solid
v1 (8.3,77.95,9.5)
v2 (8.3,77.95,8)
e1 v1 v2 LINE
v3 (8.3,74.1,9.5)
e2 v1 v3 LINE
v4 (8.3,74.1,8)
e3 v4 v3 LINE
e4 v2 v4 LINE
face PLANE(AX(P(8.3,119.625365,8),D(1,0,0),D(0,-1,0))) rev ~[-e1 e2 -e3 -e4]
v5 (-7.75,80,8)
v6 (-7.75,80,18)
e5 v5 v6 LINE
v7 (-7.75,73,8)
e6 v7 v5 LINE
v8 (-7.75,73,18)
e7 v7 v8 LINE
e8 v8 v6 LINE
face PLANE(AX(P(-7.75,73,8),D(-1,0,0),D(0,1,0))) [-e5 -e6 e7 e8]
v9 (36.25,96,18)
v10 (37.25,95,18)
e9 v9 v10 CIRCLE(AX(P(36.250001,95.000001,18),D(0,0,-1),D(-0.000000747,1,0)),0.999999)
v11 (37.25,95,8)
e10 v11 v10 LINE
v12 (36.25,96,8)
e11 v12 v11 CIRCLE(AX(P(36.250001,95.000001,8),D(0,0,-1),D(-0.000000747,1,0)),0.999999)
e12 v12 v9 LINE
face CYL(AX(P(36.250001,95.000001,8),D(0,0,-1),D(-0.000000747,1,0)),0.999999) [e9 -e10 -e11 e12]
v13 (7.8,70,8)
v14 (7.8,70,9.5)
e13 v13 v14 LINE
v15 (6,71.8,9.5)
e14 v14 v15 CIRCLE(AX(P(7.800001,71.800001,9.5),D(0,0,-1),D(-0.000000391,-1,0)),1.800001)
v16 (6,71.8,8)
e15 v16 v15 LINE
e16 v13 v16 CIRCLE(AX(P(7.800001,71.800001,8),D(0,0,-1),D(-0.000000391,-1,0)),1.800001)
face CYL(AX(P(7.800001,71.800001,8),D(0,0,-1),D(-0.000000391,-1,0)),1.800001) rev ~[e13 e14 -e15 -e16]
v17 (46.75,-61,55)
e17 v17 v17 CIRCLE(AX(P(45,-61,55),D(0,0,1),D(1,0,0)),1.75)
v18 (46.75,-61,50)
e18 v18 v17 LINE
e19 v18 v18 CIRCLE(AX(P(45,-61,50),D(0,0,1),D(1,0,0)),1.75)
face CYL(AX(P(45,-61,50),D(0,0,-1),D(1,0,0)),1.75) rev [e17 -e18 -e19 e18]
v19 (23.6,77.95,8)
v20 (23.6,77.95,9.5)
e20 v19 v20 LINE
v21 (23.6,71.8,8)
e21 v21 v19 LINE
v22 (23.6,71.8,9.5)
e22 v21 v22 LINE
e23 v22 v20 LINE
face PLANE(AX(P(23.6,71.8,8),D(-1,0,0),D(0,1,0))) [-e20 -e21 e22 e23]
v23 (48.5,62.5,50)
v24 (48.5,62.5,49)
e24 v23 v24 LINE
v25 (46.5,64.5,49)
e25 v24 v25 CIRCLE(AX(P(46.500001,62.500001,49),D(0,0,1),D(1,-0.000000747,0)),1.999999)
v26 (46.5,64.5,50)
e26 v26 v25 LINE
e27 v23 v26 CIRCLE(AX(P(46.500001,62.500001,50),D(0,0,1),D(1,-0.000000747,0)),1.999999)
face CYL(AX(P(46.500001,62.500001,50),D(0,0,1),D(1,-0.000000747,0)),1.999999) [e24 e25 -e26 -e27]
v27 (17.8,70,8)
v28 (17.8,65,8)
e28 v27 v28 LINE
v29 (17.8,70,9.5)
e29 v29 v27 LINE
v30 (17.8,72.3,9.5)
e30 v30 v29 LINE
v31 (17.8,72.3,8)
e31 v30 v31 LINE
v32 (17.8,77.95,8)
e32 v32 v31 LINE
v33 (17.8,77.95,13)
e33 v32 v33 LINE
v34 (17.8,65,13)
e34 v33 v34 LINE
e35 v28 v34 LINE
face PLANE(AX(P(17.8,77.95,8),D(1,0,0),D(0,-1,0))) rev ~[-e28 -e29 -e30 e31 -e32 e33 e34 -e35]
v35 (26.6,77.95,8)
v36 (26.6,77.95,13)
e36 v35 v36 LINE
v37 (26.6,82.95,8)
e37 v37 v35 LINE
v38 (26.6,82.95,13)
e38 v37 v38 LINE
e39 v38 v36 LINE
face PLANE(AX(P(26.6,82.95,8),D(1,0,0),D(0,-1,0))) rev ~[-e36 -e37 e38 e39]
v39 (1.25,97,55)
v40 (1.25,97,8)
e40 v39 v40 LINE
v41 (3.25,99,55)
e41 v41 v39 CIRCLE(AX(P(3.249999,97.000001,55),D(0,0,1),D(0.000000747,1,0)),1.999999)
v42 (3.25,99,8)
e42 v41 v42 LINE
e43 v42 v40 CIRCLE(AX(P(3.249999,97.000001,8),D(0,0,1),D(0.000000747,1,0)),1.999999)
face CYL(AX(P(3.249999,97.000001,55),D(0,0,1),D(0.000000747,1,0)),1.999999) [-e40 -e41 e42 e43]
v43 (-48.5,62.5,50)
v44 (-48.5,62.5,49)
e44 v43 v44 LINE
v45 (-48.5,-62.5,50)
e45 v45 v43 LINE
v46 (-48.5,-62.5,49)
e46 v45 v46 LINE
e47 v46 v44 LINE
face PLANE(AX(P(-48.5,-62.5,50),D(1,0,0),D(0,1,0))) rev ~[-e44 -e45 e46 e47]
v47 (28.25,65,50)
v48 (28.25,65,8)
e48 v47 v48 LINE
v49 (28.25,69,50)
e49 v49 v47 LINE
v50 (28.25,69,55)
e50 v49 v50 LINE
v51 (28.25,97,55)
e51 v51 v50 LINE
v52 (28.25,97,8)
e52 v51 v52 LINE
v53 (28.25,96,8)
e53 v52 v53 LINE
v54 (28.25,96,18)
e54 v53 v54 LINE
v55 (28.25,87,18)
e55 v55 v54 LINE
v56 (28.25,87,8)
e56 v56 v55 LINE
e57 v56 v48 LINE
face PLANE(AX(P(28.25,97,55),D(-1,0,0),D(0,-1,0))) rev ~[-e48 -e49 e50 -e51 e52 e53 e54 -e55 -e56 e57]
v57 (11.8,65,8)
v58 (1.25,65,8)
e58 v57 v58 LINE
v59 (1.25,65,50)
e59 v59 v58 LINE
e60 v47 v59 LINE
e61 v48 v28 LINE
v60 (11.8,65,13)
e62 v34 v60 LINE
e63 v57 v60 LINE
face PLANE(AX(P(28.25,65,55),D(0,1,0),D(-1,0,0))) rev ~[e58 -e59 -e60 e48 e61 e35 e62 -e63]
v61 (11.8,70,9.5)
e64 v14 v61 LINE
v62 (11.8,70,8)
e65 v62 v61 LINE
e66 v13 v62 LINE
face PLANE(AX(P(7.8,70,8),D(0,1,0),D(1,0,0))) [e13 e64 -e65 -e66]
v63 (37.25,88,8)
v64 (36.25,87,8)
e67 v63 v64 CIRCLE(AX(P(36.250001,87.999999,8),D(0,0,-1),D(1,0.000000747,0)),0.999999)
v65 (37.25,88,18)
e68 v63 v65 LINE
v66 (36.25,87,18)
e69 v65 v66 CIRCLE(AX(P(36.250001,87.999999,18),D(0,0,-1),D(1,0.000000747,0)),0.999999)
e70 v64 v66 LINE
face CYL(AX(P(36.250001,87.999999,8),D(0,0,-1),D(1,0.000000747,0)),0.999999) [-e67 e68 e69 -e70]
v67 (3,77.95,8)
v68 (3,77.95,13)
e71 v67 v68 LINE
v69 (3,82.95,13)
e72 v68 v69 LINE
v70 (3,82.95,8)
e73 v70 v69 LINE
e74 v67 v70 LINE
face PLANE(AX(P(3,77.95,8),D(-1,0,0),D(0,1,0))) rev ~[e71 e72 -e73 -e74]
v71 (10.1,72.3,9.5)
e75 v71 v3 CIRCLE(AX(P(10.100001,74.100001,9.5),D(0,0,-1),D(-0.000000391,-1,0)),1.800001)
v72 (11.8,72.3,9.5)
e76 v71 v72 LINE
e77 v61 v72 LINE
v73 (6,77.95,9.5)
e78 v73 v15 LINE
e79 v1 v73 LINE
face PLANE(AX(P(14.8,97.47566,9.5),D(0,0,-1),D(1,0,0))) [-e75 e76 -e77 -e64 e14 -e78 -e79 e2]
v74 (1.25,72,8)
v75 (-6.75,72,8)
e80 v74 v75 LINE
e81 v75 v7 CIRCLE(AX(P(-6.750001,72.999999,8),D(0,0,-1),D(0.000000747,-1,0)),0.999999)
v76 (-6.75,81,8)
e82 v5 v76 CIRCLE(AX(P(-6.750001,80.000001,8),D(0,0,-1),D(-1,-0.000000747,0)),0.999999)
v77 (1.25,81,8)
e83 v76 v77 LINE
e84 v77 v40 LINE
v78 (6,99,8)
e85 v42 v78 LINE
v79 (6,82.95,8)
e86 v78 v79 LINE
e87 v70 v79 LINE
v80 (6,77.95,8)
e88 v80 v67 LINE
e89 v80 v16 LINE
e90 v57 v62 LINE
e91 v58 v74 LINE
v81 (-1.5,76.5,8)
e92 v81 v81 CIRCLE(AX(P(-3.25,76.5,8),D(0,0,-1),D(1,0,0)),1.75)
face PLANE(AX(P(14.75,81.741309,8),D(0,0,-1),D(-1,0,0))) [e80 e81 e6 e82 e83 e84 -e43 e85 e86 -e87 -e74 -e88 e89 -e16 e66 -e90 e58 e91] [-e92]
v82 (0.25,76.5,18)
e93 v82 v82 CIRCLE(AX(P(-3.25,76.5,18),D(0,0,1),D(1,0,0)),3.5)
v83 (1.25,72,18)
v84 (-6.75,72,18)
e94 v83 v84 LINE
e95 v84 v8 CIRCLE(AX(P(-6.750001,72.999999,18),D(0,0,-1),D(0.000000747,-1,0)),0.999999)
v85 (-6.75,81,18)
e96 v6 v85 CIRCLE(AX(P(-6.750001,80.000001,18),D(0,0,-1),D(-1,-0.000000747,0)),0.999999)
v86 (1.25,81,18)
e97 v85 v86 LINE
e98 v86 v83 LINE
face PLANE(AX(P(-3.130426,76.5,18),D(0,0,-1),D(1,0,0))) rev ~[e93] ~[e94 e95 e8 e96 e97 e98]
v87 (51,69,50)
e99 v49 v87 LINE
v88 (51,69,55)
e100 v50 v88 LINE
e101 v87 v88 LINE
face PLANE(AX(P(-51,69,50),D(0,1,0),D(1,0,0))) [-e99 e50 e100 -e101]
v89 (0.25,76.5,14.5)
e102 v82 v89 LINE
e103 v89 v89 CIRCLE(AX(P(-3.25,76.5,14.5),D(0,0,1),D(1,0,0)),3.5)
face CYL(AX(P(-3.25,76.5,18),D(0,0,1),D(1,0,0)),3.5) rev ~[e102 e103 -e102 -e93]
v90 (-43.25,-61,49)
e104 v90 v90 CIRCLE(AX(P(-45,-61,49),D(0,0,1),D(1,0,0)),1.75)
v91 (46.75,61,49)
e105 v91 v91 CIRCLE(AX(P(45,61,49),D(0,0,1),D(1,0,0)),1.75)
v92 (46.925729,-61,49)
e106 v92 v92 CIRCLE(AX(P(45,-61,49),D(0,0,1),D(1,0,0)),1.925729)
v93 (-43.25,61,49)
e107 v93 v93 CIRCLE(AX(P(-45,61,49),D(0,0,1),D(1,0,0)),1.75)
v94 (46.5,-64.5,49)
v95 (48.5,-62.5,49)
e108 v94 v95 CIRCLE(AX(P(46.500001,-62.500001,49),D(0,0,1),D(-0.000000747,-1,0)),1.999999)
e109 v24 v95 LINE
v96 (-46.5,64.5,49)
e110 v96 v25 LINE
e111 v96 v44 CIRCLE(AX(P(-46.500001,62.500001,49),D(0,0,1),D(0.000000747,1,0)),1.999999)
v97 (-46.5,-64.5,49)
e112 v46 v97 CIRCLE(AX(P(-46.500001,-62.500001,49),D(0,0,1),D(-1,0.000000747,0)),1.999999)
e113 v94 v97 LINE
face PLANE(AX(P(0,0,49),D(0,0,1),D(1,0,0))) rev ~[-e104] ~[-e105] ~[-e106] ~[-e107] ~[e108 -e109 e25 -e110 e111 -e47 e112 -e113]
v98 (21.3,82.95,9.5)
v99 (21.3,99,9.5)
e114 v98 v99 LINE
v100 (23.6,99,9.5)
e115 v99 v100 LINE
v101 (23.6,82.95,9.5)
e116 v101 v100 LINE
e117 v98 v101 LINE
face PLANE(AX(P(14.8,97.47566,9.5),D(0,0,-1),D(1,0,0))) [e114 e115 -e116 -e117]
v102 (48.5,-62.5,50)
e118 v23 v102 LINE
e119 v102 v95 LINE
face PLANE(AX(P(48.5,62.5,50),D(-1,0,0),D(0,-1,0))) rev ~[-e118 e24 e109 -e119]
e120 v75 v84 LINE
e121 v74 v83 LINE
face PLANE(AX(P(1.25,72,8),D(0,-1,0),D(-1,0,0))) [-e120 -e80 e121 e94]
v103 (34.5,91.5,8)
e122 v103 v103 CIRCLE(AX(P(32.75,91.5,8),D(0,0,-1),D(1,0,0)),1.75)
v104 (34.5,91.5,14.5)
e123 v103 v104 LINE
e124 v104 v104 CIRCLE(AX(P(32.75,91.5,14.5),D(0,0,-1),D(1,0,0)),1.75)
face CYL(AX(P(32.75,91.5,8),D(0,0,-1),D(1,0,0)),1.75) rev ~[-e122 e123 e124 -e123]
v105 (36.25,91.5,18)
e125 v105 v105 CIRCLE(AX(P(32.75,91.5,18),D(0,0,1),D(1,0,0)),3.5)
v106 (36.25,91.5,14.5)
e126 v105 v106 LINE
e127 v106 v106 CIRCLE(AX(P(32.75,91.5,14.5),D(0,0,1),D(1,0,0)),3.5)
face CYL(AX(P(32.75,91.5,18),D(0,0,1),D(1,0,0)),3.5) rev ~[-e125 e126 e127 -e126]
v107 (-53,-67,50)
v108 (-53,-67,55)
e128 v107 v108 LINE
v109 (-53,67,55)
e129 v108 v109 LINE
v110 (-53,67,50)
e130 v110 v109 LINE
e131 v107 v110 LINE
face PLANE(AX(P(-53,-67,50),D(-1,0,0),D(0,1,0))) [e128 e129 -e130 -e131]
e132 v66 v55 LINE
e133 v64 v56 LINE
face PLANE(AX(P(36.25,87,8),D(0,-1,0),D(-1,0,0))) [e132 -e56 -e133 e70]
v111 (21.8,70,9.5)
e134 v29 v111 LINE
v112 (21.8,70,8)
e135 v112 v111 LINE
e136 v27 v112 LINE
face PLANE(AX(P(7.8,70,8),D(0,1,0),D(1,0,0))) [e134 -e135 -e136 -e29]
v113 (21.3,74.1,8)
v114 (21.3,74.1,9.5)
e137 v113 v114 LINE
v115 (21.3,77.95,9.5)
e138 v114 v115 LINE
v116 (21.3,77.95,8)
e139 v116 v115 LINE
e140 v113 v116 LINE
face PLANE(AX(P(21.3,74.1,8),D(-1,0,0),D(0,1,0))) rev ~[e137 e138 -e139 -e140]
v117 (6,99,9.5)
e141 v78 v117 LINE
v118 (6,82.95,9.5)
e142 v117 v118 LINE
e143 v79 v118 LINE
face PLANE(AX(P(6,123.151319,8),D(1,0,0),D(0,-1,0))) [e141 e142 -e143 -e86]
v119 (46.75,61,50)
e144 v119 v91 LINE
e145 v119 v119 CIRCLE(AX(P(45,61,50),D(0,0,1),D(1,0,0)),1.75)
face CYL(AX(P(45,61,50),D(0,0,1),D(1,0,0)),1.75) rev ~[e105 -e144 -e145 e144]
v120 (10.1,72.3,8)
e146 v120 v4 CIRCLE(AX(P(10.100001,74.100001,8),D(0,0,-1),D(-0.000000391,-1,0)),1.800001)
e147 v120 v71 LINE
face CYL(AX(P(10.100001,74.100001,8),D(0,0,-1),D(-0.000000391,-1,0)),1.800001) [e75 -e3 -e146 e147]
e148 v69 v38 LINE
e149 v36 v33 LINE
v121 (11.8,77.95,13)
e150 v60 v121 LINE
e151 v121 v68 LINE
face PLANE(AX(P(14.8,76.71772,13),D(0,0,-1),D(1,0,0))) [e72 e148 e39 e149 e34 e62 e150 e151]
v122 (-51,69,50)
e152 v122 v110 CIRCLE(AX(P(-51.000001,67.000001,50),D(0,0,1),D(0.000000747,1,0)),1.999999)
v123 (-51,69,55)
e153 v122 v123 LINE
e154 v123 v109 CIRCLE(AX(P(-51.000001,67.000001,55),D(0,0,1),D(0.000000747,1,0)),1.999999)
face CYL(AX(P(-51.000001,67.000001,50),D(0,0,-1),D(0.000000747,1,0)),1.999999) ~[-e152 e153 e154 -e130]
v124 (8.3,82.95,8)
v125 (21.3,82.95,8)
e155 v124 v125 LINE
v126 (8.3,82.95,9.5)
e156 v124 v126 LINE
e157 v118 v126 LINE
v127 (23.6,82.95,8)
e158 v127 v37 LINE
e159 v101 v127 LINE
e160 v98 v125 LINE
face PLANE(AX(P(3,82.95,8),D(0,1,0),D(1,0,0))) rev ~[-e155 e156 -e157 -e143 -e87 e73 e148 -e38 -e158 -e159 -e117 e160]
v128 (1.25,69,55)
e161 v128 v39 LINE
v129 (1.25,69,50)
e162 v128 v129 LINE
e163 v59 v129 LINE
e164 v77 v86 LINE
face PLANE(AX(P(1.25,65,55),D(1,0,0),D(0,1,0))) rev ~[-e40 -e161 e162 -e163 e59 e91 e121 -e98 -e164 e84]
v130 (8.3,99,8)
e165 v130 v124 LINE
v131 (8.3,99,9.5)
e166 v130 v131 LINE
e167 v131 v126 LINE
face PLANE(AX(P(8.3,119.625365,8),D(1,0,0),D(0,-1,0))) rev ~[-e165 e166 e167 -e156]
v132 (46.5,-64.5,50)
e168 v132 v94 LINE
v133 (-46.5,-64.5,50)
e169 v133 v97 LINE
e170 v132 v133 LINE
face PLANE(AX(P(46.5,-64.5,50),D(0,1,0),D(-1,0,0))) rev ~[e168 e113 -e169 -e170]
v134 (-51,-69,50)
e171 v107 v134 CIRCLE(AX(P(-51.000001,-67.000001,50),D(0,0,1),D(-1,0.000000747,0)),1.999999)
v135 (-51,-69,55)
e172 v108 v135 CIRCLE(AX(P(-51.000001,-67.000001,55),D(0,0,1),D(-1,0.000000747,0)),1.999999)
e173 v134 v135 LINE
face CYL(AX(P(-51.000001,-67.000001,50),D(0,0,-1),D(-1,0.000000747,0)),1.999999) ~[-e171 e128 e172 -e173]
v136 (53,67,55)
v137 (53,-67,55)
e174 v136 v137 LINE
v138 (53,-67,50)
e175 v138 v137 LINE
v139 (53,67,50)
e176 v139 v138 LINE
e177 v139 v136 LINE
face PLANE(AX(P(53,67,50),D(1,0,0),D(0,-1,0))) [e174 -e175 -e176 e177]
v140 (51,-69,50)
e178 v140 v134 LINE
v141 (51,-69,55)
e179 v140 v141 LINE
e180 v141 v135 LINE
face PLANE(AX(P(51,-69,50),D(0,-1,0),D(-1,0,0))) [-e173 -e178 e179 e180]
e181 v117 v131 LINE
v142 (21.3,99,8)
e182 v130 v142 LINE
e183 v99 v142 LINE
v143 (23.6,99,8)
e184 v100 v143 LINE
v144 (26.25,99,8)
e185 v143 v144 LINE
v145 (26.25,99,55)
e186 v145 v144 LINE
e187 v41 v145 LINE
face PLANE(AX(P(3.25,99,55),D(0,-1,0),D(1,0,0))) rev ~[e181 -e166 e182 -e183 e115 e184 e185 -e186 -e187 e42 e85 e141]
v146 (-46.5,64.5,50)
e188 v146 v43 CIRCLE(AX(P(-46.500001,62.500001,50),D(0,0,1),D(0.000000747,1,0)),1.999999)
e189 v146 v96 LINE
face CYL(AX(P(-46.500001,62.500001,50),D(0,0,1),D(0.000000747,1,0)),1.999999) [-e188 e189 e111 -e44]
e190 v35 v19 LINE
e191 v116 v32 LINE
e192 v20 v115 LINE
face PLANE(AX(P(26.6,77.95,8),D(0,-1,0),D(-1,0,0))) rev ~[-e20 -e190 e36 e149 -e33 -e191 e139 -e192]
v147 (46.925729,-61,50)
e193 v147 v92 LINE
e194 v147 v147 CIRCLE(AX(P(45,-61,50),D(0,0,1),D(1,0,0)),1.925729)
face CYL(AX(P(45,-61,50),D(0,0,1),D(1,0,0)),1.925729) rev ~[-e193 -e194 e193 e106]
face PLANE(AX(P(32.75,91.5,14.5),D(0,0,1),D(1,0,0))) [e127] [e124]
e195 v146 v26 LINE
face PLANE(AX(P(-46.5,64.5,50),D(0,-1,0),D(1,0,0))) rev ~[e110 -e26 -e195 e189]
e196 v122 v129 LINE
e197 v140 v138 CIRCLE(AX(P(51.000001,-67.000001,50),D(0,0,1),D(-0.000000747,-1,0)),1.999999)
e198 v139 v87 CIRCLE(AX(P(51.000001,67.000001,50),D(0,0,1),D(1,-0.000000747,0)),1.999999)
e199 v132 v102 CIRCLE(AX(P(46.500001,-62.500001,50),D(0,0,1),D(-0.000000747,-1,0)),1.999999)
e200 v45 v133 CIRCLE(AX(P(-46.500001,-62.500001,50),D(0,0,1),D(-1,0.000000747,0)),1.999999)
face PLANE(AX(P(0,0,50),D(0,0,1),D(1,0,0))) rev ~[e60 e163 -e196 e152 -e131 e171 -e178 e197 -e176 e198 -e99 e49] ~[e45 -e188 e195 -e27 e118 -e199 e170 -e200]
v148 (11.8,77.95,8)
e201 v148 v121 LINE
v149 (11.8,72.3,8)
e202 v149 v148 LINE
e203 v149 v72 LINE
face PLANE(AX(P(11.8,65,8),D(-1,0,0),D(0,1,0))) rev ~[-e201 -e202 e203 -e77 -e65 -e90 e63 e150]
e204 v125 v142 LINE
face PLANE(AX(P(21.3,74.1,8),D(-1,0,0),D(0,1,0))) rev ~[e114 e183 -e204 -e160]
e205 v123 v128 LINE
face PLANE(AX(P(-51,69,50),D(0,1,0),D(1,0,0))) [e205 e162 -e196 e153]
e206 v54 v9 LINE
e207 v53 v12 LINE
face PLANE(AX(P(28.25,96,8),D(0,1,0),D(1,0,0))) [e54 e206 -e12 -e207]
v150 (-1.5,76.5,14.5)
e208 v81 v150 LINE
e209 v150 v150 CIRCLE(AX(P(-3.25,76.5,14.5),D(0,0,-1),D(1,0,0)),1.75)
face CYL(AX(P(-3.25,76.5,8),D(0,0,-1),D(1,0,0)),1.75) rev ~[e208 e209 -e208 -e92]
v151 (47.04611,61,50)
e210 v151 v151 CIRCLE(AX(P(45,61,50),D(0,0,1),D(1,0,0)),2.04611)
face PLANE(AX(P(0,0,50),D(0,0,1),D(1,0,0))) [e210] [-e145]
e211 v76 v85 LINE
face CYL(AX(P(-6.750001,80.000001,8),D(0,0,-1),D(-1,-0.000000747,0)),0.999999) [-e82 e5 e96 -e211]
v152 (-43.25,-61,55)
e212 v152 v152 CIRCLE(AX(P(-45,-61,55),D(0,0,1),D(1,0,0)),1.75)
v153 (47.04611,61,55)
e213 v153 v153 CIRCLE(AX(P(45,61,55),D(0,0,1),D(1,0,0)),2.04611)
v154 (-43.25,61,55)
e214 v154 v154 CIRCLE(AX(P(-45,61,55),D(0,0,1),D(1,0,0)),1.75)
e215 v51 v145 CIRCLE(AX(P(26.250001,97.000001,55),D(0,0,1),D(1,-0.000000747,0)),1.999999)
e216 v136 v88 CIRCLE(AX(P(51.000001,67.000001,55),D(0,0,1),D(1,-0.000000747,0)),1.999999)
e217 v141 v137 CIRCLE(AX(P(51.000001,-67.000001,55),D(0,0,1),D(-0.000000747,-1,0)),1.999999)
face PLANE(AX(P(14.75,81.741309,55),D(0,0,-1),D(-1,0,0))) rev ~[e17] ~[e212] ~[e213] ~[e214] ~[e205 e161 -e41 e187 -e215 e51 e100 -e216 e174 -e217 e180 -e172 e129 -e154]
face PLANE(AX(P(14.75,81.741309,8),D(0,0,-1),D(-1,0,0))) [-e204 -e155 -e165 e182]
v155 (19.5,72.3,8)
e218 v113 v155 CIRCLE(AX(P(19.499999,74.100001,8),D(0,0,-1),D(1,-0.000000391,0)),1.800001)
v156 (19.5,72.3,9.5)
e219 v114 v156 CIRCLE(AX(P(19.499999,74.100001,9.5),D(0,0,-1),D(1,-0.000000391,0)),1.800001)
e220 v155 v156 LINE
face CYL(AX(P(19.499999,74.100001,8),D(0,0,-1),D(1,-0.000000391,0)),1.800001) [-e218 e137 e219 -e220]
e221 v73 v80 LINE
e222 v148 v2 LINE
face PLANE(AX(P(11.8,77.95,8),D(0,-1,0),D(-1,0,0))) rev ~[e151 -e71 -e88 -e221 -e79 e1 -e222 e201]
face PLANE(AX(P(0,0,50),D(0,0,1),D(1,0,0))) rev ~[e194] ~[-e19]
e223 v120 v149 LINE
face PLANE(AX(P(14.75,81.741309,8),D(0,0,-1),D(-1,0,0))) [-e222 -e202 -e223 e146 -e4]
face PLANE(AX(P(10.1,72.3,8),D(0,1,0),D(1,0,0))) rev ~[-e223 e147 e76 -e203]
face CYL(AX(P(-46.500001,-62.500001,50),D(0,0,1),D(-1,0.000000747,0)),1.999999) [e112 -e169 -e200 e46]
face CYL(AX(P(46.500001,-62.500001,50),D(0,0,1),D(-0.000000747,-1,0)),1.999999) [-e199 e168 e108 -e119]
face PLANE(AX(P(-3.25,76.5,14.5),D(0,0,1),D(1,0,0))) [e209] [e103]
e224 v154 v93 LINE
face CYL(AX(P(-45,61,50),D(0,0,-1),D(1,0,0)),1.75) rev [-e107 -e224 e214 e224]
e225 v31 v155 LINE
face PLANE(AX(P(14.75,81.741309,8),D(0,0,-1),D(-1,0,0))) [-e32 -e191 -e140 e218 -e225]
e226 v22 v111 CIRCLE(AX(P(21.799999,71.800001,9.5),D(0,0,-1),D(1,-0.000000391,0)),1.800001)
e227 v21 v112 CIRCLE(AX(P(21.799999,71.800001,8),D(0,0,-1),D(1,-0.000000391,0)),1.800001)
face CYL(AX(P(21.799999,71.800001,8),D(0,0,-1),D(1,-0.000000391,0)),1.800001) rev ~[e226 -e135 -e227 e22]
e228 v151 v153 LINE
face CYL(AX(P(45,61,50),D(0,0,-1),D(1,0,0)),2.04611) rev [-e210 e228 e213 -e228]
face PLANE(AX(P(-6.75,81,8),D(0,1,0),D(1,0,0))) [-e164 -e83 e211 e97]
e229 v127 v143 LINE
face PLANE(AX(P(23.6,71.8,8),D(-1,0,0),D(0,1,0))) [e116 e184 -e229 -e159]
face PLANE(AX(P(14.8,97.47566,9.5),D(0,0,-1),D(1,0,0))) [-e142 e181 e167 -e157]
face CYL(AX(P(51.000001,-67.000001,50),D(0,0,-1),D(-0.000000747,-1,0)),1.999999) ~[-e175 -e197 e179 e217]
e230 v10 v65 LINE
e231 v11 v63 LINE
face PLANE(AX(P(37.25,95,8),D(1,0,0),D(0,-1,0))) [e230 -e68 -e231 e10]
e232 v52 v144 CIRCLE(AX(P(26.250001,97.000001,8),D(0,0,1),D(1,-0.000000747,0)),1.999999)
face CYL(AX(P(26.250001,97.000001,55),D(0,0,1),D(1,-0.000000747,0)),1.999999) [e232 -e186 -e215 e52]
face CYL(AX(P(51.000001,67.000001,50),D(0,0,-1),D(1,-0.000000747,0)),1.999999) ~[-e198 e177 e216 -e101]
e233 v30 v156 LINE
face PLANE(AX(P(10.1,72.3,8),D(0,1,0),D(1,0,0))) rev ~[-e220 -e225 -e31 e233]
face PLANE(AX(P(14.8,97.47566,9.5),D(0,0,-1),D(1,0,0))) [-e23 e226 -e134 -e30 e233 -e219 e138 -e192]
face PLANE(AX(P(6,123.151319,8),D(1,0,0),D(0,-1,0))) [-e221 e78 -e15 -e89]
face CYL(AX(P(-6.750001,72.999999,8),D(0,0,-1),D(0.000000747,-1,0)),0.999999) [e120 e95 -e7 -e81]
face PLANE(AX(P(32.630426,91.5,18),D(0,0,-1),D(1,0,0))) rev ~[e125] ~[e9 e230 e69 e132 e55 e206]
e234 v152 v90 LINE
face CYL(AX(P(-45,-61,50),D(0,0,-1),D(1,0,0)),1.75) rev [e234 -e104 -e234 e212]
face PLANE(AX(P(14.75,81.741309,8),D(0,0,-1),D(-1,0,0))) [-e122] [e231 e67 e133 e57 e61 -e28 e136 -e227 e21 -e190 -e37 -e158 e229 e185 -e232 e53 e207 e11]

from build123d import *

# Parameters (mm, degrees)
SKETCH020_R     = 1.75
SKETCH020_R_2   = 2.04611
PAD008_DEPTH    = 5
SKETCH021_R     = 1.75
SKETCH021_R_2   = 1.925729
PAD009_DEPTH    = 1
PAD010_DEPTH    = 47
POCKET010_DEPTH = 1.5
POCKET011_DEPTH = 5
SKETCH025_R     = 1.75
PAD011_DEPTH    = 10
SKETCH026_R     = 3.5
POCKET012_DEPTH = 3.5


with BuildPart() as part:
    # Sketch020 (on Face1 of ShapeBinder) → Pad008 (new body)
    with BuildSketch(Plane.XY.offset(50)):
        with BuildLine():
            ThreePointArc((-51, 69), (-52.414214, 68.414214), (-53, 67))
            Line((-53, -67), (-53, 67))
            ThreePointArc((-53, -67), (-52.414214, -68.414214), (-51, -69))
            Line((51, -69), (-51, -69))
            ThreePointArc((51, -69), (52.414214, -68.414214), (53, -67))
            Line((53, 67), (53, -67))
            ThreePointArc((53, 67), (52.414214, 68.414214), (51, 69))
            Line((-51, 69), (51, 69))
        make_face()
        with Locations((-45, -61)):
            Circle(SKETCH020_R, mode=Mode.SUBTRACT)
        with Locations((45, -61)):
            Circle(SKETCH020_R, mode=Mode.SUBTRACT)
        with Locations((-45, 61)):
            Circle(SKETCH020_R, mode=Mode.SUBTRACT)
        with Locations((45, 61)):
            Circle(SKETCH020_R_2, mode=Mode.SUBTRACT)
    extrude(amount=PAD008_DEPTH)

    # Sketch021 (on Face1 of ShapeBinder) → Pad009 (join)
    with BuildSketch(Plane.XY.offset(50)):
        with BuildLine():
            ThreePointArc((-46.5, 64.5), (-47.914214, 63.914214), (-48.5, 62.5))
            Line((-48.5, -62.5), (-48.5, 62.5))
            ThreePointArc((-48.5, -62.5), (-47.914214, -63.914214), (-46.5, -64.5))
            Line((46.5, -64.5), (-46.5, -64.5))
            ThreePointArc((46.5, -64.5), (47.914214, -63.914214), (48.5, -62.5))
            Line((48.5, 62.5), (48.5, -62.5))
            ThreePointArc((48.5, 62.5), (47.914214, 63.914214), (46.5, 64.5))
            Line((-46.5, 64.5), (46.5, 64.5))
        make_face()
        with Locations((-45, -61)):
            Circle(SKETCH021_R, mode=Mode.SUBTRACT)
        with Locations((45, -61)):
            Circle(SKETCH021_R_2, mode=Mode.SUBTRACT)
        with Locations((-45, 61)):
            Circle(SKETCH021_R, mode=Mode.SUBTRACT)
        with Locations((45, 61)):
            Circle(SKETCH021_R, mode=Mode.SUBTRACT)
    extrude(amount=-PAD009_DEPTH)

    # Sketch022 (on Face14 of Pad008) → Pad010 (join)
    with BuildSketch(Plane.XY.offset(55)):
        with BuildLine():
            Line((3.25, 99), (26.25, 99))
            ThreePointArc((28.25, 97), (27.664214, 98.414214), (26.25, 99))
            Line((28.25, 97), (28.25, 65))
            Line((28.25, 65), (1.25, 65))
            Line((1.25, 65), (1.25, 97))
            ThreePointArc((3.25, 99), (1.835786, 98.414214), (1.25, 97))
        make_face()
    extrude(amount=-PAD010_DEPTH)

    # Sketch023 (on Face30 of Pad010) → Pocket010 (cut)
    with BuildSketch(Plane(origin=(0, 0, 8), x_dir=(1, 0, 0), z_dir=(0, 0, -1))):
        with BuildLine():
            ThreePointArc((7.8, -70), (6.527208, -70.527208), (6, -71.8))
            Line((6, -123.151319), (6, -71.8))
            ThreePointArc((6, -123.151319), (6.527208, -124.424111), (7.8, -124.951319))
            Line((21.8, -124.951319), (7.8, -124.951319))
            ThreePointArc((21.8, -124.951319), (23.072792, -124.424111), (23.6, -123.151319))
            Line((23.6, -71.8), (23.6, -123.151319))
            ThreePointArc((23.6, -71.8), (23.072792, -70.527208), (21.8, -70))
            Line((7.8, -70), (21.8, -70))
        make_face()
        with BuildLine():
            ThreePointArc((10.1, -72.3), (8.827208, -72.827208), (8.3, -74.1))
            Line((8.3, -119.625365), (8.3, -74.1))
            ThreePointArc((8.3, -119.625365), (8.827208, -120.898157), (10.1, -121.425365))
            Line((19.5, -121.425365), (10.1, -121.425365))
            ThreePointArc((19.5, -121.425365), (20.772792, -120.898157), (21.3, -119.625365))
            Line((21.3, -74.1), (21.3, -119.625365))
            ThreePointArc((21.3, -74.1), (20.772792, -72.827208), (19.5, -72.3))
            Line((10.1, -72.3), (19.5, -72.3))
        make_face(mode=Mode.SUBTRACT)
    extrude(amount=-POCKET010_DEPTH, mode=Mode.SUBTRACT)

    # Sketch024 (on Face30 of Pad010) → Pocket011 (cut)
    with BuildSketch(Plane(origin=(0, 0, 8), x_dir=(1, 0, 0), z_dir=(0, 0, -1))):
        Polygon((17.8, -65), (11.8, -65), (11.8, -77.95), (3, -77.95), (3, -82.95), (26.6, -82.95), (26.6, -77.95), (17.8, -77.95), align=None)
    extrude(amount=-POCKET011_DEPTH, mode=Mode.SUBTRACT)

    # Sketch025 (on Face30 of Pad010) → Pad011 (join)
    with BuildSketch(Plane(origin=(0, 0, 8), x_dir=(1, 0, 0), z_dir=(0, 0, -1))):
        with BuildLine():
            Line((-7.75, -73), (-7.75, -80))
            ThreePointArc((-7.75, -80), (-7.457107, -80.707107), (-6.75, -81))
            Line((-6.75, -81), (1.25, -81))
            Line((1.25, -81), (1.25, -72))
            Line((1.25, -72), (-6.75, -72))
            ThreePointArc((-6.75, -72), (-7.457107, -72.292893), (-7.75, -73))
        make_face()
        with Locations((-3.25, -76.5)):
            Circle(SKETCH025_R, mode=Mode.SUBTRACT)
        with BuildLine():
            Line((36.25, -87), (28.25, -87))
            Line((28.25, -87), (28.25, -96))
            Line((28.25, -96), (36.25, -96))
            ThreePointArc((36.25, -96), (36.957107, -95.707107), (37.25, -95))
            Line((37.25, -95), (37.25, -88))
            ThreePointArc((37.25, -88), (36.957107, -87.292893), (36.25, -87))
        make_face()
        with Locations((32.75, -91.5)):
            Circle(SKETCH025_R, mode=Mode.SUBTRACT)
    extrude(amount=-PAD011_DEPTH)

    # Sketch026 (on Face32 of Pad011) → Pocket012 (cut)
    with BuildSketch(Plane.XY.offset(18)):
        with Locations((-3.25, 76.5)):
            Circle(SKETCH026_R)
        with Locations((32.75, 91.5)):
            Circle(SKETCH026_R)
    extrude(amount=-POCKET012_DEPTH, mode=Mode.SUBTRACT)


solid = part.part
